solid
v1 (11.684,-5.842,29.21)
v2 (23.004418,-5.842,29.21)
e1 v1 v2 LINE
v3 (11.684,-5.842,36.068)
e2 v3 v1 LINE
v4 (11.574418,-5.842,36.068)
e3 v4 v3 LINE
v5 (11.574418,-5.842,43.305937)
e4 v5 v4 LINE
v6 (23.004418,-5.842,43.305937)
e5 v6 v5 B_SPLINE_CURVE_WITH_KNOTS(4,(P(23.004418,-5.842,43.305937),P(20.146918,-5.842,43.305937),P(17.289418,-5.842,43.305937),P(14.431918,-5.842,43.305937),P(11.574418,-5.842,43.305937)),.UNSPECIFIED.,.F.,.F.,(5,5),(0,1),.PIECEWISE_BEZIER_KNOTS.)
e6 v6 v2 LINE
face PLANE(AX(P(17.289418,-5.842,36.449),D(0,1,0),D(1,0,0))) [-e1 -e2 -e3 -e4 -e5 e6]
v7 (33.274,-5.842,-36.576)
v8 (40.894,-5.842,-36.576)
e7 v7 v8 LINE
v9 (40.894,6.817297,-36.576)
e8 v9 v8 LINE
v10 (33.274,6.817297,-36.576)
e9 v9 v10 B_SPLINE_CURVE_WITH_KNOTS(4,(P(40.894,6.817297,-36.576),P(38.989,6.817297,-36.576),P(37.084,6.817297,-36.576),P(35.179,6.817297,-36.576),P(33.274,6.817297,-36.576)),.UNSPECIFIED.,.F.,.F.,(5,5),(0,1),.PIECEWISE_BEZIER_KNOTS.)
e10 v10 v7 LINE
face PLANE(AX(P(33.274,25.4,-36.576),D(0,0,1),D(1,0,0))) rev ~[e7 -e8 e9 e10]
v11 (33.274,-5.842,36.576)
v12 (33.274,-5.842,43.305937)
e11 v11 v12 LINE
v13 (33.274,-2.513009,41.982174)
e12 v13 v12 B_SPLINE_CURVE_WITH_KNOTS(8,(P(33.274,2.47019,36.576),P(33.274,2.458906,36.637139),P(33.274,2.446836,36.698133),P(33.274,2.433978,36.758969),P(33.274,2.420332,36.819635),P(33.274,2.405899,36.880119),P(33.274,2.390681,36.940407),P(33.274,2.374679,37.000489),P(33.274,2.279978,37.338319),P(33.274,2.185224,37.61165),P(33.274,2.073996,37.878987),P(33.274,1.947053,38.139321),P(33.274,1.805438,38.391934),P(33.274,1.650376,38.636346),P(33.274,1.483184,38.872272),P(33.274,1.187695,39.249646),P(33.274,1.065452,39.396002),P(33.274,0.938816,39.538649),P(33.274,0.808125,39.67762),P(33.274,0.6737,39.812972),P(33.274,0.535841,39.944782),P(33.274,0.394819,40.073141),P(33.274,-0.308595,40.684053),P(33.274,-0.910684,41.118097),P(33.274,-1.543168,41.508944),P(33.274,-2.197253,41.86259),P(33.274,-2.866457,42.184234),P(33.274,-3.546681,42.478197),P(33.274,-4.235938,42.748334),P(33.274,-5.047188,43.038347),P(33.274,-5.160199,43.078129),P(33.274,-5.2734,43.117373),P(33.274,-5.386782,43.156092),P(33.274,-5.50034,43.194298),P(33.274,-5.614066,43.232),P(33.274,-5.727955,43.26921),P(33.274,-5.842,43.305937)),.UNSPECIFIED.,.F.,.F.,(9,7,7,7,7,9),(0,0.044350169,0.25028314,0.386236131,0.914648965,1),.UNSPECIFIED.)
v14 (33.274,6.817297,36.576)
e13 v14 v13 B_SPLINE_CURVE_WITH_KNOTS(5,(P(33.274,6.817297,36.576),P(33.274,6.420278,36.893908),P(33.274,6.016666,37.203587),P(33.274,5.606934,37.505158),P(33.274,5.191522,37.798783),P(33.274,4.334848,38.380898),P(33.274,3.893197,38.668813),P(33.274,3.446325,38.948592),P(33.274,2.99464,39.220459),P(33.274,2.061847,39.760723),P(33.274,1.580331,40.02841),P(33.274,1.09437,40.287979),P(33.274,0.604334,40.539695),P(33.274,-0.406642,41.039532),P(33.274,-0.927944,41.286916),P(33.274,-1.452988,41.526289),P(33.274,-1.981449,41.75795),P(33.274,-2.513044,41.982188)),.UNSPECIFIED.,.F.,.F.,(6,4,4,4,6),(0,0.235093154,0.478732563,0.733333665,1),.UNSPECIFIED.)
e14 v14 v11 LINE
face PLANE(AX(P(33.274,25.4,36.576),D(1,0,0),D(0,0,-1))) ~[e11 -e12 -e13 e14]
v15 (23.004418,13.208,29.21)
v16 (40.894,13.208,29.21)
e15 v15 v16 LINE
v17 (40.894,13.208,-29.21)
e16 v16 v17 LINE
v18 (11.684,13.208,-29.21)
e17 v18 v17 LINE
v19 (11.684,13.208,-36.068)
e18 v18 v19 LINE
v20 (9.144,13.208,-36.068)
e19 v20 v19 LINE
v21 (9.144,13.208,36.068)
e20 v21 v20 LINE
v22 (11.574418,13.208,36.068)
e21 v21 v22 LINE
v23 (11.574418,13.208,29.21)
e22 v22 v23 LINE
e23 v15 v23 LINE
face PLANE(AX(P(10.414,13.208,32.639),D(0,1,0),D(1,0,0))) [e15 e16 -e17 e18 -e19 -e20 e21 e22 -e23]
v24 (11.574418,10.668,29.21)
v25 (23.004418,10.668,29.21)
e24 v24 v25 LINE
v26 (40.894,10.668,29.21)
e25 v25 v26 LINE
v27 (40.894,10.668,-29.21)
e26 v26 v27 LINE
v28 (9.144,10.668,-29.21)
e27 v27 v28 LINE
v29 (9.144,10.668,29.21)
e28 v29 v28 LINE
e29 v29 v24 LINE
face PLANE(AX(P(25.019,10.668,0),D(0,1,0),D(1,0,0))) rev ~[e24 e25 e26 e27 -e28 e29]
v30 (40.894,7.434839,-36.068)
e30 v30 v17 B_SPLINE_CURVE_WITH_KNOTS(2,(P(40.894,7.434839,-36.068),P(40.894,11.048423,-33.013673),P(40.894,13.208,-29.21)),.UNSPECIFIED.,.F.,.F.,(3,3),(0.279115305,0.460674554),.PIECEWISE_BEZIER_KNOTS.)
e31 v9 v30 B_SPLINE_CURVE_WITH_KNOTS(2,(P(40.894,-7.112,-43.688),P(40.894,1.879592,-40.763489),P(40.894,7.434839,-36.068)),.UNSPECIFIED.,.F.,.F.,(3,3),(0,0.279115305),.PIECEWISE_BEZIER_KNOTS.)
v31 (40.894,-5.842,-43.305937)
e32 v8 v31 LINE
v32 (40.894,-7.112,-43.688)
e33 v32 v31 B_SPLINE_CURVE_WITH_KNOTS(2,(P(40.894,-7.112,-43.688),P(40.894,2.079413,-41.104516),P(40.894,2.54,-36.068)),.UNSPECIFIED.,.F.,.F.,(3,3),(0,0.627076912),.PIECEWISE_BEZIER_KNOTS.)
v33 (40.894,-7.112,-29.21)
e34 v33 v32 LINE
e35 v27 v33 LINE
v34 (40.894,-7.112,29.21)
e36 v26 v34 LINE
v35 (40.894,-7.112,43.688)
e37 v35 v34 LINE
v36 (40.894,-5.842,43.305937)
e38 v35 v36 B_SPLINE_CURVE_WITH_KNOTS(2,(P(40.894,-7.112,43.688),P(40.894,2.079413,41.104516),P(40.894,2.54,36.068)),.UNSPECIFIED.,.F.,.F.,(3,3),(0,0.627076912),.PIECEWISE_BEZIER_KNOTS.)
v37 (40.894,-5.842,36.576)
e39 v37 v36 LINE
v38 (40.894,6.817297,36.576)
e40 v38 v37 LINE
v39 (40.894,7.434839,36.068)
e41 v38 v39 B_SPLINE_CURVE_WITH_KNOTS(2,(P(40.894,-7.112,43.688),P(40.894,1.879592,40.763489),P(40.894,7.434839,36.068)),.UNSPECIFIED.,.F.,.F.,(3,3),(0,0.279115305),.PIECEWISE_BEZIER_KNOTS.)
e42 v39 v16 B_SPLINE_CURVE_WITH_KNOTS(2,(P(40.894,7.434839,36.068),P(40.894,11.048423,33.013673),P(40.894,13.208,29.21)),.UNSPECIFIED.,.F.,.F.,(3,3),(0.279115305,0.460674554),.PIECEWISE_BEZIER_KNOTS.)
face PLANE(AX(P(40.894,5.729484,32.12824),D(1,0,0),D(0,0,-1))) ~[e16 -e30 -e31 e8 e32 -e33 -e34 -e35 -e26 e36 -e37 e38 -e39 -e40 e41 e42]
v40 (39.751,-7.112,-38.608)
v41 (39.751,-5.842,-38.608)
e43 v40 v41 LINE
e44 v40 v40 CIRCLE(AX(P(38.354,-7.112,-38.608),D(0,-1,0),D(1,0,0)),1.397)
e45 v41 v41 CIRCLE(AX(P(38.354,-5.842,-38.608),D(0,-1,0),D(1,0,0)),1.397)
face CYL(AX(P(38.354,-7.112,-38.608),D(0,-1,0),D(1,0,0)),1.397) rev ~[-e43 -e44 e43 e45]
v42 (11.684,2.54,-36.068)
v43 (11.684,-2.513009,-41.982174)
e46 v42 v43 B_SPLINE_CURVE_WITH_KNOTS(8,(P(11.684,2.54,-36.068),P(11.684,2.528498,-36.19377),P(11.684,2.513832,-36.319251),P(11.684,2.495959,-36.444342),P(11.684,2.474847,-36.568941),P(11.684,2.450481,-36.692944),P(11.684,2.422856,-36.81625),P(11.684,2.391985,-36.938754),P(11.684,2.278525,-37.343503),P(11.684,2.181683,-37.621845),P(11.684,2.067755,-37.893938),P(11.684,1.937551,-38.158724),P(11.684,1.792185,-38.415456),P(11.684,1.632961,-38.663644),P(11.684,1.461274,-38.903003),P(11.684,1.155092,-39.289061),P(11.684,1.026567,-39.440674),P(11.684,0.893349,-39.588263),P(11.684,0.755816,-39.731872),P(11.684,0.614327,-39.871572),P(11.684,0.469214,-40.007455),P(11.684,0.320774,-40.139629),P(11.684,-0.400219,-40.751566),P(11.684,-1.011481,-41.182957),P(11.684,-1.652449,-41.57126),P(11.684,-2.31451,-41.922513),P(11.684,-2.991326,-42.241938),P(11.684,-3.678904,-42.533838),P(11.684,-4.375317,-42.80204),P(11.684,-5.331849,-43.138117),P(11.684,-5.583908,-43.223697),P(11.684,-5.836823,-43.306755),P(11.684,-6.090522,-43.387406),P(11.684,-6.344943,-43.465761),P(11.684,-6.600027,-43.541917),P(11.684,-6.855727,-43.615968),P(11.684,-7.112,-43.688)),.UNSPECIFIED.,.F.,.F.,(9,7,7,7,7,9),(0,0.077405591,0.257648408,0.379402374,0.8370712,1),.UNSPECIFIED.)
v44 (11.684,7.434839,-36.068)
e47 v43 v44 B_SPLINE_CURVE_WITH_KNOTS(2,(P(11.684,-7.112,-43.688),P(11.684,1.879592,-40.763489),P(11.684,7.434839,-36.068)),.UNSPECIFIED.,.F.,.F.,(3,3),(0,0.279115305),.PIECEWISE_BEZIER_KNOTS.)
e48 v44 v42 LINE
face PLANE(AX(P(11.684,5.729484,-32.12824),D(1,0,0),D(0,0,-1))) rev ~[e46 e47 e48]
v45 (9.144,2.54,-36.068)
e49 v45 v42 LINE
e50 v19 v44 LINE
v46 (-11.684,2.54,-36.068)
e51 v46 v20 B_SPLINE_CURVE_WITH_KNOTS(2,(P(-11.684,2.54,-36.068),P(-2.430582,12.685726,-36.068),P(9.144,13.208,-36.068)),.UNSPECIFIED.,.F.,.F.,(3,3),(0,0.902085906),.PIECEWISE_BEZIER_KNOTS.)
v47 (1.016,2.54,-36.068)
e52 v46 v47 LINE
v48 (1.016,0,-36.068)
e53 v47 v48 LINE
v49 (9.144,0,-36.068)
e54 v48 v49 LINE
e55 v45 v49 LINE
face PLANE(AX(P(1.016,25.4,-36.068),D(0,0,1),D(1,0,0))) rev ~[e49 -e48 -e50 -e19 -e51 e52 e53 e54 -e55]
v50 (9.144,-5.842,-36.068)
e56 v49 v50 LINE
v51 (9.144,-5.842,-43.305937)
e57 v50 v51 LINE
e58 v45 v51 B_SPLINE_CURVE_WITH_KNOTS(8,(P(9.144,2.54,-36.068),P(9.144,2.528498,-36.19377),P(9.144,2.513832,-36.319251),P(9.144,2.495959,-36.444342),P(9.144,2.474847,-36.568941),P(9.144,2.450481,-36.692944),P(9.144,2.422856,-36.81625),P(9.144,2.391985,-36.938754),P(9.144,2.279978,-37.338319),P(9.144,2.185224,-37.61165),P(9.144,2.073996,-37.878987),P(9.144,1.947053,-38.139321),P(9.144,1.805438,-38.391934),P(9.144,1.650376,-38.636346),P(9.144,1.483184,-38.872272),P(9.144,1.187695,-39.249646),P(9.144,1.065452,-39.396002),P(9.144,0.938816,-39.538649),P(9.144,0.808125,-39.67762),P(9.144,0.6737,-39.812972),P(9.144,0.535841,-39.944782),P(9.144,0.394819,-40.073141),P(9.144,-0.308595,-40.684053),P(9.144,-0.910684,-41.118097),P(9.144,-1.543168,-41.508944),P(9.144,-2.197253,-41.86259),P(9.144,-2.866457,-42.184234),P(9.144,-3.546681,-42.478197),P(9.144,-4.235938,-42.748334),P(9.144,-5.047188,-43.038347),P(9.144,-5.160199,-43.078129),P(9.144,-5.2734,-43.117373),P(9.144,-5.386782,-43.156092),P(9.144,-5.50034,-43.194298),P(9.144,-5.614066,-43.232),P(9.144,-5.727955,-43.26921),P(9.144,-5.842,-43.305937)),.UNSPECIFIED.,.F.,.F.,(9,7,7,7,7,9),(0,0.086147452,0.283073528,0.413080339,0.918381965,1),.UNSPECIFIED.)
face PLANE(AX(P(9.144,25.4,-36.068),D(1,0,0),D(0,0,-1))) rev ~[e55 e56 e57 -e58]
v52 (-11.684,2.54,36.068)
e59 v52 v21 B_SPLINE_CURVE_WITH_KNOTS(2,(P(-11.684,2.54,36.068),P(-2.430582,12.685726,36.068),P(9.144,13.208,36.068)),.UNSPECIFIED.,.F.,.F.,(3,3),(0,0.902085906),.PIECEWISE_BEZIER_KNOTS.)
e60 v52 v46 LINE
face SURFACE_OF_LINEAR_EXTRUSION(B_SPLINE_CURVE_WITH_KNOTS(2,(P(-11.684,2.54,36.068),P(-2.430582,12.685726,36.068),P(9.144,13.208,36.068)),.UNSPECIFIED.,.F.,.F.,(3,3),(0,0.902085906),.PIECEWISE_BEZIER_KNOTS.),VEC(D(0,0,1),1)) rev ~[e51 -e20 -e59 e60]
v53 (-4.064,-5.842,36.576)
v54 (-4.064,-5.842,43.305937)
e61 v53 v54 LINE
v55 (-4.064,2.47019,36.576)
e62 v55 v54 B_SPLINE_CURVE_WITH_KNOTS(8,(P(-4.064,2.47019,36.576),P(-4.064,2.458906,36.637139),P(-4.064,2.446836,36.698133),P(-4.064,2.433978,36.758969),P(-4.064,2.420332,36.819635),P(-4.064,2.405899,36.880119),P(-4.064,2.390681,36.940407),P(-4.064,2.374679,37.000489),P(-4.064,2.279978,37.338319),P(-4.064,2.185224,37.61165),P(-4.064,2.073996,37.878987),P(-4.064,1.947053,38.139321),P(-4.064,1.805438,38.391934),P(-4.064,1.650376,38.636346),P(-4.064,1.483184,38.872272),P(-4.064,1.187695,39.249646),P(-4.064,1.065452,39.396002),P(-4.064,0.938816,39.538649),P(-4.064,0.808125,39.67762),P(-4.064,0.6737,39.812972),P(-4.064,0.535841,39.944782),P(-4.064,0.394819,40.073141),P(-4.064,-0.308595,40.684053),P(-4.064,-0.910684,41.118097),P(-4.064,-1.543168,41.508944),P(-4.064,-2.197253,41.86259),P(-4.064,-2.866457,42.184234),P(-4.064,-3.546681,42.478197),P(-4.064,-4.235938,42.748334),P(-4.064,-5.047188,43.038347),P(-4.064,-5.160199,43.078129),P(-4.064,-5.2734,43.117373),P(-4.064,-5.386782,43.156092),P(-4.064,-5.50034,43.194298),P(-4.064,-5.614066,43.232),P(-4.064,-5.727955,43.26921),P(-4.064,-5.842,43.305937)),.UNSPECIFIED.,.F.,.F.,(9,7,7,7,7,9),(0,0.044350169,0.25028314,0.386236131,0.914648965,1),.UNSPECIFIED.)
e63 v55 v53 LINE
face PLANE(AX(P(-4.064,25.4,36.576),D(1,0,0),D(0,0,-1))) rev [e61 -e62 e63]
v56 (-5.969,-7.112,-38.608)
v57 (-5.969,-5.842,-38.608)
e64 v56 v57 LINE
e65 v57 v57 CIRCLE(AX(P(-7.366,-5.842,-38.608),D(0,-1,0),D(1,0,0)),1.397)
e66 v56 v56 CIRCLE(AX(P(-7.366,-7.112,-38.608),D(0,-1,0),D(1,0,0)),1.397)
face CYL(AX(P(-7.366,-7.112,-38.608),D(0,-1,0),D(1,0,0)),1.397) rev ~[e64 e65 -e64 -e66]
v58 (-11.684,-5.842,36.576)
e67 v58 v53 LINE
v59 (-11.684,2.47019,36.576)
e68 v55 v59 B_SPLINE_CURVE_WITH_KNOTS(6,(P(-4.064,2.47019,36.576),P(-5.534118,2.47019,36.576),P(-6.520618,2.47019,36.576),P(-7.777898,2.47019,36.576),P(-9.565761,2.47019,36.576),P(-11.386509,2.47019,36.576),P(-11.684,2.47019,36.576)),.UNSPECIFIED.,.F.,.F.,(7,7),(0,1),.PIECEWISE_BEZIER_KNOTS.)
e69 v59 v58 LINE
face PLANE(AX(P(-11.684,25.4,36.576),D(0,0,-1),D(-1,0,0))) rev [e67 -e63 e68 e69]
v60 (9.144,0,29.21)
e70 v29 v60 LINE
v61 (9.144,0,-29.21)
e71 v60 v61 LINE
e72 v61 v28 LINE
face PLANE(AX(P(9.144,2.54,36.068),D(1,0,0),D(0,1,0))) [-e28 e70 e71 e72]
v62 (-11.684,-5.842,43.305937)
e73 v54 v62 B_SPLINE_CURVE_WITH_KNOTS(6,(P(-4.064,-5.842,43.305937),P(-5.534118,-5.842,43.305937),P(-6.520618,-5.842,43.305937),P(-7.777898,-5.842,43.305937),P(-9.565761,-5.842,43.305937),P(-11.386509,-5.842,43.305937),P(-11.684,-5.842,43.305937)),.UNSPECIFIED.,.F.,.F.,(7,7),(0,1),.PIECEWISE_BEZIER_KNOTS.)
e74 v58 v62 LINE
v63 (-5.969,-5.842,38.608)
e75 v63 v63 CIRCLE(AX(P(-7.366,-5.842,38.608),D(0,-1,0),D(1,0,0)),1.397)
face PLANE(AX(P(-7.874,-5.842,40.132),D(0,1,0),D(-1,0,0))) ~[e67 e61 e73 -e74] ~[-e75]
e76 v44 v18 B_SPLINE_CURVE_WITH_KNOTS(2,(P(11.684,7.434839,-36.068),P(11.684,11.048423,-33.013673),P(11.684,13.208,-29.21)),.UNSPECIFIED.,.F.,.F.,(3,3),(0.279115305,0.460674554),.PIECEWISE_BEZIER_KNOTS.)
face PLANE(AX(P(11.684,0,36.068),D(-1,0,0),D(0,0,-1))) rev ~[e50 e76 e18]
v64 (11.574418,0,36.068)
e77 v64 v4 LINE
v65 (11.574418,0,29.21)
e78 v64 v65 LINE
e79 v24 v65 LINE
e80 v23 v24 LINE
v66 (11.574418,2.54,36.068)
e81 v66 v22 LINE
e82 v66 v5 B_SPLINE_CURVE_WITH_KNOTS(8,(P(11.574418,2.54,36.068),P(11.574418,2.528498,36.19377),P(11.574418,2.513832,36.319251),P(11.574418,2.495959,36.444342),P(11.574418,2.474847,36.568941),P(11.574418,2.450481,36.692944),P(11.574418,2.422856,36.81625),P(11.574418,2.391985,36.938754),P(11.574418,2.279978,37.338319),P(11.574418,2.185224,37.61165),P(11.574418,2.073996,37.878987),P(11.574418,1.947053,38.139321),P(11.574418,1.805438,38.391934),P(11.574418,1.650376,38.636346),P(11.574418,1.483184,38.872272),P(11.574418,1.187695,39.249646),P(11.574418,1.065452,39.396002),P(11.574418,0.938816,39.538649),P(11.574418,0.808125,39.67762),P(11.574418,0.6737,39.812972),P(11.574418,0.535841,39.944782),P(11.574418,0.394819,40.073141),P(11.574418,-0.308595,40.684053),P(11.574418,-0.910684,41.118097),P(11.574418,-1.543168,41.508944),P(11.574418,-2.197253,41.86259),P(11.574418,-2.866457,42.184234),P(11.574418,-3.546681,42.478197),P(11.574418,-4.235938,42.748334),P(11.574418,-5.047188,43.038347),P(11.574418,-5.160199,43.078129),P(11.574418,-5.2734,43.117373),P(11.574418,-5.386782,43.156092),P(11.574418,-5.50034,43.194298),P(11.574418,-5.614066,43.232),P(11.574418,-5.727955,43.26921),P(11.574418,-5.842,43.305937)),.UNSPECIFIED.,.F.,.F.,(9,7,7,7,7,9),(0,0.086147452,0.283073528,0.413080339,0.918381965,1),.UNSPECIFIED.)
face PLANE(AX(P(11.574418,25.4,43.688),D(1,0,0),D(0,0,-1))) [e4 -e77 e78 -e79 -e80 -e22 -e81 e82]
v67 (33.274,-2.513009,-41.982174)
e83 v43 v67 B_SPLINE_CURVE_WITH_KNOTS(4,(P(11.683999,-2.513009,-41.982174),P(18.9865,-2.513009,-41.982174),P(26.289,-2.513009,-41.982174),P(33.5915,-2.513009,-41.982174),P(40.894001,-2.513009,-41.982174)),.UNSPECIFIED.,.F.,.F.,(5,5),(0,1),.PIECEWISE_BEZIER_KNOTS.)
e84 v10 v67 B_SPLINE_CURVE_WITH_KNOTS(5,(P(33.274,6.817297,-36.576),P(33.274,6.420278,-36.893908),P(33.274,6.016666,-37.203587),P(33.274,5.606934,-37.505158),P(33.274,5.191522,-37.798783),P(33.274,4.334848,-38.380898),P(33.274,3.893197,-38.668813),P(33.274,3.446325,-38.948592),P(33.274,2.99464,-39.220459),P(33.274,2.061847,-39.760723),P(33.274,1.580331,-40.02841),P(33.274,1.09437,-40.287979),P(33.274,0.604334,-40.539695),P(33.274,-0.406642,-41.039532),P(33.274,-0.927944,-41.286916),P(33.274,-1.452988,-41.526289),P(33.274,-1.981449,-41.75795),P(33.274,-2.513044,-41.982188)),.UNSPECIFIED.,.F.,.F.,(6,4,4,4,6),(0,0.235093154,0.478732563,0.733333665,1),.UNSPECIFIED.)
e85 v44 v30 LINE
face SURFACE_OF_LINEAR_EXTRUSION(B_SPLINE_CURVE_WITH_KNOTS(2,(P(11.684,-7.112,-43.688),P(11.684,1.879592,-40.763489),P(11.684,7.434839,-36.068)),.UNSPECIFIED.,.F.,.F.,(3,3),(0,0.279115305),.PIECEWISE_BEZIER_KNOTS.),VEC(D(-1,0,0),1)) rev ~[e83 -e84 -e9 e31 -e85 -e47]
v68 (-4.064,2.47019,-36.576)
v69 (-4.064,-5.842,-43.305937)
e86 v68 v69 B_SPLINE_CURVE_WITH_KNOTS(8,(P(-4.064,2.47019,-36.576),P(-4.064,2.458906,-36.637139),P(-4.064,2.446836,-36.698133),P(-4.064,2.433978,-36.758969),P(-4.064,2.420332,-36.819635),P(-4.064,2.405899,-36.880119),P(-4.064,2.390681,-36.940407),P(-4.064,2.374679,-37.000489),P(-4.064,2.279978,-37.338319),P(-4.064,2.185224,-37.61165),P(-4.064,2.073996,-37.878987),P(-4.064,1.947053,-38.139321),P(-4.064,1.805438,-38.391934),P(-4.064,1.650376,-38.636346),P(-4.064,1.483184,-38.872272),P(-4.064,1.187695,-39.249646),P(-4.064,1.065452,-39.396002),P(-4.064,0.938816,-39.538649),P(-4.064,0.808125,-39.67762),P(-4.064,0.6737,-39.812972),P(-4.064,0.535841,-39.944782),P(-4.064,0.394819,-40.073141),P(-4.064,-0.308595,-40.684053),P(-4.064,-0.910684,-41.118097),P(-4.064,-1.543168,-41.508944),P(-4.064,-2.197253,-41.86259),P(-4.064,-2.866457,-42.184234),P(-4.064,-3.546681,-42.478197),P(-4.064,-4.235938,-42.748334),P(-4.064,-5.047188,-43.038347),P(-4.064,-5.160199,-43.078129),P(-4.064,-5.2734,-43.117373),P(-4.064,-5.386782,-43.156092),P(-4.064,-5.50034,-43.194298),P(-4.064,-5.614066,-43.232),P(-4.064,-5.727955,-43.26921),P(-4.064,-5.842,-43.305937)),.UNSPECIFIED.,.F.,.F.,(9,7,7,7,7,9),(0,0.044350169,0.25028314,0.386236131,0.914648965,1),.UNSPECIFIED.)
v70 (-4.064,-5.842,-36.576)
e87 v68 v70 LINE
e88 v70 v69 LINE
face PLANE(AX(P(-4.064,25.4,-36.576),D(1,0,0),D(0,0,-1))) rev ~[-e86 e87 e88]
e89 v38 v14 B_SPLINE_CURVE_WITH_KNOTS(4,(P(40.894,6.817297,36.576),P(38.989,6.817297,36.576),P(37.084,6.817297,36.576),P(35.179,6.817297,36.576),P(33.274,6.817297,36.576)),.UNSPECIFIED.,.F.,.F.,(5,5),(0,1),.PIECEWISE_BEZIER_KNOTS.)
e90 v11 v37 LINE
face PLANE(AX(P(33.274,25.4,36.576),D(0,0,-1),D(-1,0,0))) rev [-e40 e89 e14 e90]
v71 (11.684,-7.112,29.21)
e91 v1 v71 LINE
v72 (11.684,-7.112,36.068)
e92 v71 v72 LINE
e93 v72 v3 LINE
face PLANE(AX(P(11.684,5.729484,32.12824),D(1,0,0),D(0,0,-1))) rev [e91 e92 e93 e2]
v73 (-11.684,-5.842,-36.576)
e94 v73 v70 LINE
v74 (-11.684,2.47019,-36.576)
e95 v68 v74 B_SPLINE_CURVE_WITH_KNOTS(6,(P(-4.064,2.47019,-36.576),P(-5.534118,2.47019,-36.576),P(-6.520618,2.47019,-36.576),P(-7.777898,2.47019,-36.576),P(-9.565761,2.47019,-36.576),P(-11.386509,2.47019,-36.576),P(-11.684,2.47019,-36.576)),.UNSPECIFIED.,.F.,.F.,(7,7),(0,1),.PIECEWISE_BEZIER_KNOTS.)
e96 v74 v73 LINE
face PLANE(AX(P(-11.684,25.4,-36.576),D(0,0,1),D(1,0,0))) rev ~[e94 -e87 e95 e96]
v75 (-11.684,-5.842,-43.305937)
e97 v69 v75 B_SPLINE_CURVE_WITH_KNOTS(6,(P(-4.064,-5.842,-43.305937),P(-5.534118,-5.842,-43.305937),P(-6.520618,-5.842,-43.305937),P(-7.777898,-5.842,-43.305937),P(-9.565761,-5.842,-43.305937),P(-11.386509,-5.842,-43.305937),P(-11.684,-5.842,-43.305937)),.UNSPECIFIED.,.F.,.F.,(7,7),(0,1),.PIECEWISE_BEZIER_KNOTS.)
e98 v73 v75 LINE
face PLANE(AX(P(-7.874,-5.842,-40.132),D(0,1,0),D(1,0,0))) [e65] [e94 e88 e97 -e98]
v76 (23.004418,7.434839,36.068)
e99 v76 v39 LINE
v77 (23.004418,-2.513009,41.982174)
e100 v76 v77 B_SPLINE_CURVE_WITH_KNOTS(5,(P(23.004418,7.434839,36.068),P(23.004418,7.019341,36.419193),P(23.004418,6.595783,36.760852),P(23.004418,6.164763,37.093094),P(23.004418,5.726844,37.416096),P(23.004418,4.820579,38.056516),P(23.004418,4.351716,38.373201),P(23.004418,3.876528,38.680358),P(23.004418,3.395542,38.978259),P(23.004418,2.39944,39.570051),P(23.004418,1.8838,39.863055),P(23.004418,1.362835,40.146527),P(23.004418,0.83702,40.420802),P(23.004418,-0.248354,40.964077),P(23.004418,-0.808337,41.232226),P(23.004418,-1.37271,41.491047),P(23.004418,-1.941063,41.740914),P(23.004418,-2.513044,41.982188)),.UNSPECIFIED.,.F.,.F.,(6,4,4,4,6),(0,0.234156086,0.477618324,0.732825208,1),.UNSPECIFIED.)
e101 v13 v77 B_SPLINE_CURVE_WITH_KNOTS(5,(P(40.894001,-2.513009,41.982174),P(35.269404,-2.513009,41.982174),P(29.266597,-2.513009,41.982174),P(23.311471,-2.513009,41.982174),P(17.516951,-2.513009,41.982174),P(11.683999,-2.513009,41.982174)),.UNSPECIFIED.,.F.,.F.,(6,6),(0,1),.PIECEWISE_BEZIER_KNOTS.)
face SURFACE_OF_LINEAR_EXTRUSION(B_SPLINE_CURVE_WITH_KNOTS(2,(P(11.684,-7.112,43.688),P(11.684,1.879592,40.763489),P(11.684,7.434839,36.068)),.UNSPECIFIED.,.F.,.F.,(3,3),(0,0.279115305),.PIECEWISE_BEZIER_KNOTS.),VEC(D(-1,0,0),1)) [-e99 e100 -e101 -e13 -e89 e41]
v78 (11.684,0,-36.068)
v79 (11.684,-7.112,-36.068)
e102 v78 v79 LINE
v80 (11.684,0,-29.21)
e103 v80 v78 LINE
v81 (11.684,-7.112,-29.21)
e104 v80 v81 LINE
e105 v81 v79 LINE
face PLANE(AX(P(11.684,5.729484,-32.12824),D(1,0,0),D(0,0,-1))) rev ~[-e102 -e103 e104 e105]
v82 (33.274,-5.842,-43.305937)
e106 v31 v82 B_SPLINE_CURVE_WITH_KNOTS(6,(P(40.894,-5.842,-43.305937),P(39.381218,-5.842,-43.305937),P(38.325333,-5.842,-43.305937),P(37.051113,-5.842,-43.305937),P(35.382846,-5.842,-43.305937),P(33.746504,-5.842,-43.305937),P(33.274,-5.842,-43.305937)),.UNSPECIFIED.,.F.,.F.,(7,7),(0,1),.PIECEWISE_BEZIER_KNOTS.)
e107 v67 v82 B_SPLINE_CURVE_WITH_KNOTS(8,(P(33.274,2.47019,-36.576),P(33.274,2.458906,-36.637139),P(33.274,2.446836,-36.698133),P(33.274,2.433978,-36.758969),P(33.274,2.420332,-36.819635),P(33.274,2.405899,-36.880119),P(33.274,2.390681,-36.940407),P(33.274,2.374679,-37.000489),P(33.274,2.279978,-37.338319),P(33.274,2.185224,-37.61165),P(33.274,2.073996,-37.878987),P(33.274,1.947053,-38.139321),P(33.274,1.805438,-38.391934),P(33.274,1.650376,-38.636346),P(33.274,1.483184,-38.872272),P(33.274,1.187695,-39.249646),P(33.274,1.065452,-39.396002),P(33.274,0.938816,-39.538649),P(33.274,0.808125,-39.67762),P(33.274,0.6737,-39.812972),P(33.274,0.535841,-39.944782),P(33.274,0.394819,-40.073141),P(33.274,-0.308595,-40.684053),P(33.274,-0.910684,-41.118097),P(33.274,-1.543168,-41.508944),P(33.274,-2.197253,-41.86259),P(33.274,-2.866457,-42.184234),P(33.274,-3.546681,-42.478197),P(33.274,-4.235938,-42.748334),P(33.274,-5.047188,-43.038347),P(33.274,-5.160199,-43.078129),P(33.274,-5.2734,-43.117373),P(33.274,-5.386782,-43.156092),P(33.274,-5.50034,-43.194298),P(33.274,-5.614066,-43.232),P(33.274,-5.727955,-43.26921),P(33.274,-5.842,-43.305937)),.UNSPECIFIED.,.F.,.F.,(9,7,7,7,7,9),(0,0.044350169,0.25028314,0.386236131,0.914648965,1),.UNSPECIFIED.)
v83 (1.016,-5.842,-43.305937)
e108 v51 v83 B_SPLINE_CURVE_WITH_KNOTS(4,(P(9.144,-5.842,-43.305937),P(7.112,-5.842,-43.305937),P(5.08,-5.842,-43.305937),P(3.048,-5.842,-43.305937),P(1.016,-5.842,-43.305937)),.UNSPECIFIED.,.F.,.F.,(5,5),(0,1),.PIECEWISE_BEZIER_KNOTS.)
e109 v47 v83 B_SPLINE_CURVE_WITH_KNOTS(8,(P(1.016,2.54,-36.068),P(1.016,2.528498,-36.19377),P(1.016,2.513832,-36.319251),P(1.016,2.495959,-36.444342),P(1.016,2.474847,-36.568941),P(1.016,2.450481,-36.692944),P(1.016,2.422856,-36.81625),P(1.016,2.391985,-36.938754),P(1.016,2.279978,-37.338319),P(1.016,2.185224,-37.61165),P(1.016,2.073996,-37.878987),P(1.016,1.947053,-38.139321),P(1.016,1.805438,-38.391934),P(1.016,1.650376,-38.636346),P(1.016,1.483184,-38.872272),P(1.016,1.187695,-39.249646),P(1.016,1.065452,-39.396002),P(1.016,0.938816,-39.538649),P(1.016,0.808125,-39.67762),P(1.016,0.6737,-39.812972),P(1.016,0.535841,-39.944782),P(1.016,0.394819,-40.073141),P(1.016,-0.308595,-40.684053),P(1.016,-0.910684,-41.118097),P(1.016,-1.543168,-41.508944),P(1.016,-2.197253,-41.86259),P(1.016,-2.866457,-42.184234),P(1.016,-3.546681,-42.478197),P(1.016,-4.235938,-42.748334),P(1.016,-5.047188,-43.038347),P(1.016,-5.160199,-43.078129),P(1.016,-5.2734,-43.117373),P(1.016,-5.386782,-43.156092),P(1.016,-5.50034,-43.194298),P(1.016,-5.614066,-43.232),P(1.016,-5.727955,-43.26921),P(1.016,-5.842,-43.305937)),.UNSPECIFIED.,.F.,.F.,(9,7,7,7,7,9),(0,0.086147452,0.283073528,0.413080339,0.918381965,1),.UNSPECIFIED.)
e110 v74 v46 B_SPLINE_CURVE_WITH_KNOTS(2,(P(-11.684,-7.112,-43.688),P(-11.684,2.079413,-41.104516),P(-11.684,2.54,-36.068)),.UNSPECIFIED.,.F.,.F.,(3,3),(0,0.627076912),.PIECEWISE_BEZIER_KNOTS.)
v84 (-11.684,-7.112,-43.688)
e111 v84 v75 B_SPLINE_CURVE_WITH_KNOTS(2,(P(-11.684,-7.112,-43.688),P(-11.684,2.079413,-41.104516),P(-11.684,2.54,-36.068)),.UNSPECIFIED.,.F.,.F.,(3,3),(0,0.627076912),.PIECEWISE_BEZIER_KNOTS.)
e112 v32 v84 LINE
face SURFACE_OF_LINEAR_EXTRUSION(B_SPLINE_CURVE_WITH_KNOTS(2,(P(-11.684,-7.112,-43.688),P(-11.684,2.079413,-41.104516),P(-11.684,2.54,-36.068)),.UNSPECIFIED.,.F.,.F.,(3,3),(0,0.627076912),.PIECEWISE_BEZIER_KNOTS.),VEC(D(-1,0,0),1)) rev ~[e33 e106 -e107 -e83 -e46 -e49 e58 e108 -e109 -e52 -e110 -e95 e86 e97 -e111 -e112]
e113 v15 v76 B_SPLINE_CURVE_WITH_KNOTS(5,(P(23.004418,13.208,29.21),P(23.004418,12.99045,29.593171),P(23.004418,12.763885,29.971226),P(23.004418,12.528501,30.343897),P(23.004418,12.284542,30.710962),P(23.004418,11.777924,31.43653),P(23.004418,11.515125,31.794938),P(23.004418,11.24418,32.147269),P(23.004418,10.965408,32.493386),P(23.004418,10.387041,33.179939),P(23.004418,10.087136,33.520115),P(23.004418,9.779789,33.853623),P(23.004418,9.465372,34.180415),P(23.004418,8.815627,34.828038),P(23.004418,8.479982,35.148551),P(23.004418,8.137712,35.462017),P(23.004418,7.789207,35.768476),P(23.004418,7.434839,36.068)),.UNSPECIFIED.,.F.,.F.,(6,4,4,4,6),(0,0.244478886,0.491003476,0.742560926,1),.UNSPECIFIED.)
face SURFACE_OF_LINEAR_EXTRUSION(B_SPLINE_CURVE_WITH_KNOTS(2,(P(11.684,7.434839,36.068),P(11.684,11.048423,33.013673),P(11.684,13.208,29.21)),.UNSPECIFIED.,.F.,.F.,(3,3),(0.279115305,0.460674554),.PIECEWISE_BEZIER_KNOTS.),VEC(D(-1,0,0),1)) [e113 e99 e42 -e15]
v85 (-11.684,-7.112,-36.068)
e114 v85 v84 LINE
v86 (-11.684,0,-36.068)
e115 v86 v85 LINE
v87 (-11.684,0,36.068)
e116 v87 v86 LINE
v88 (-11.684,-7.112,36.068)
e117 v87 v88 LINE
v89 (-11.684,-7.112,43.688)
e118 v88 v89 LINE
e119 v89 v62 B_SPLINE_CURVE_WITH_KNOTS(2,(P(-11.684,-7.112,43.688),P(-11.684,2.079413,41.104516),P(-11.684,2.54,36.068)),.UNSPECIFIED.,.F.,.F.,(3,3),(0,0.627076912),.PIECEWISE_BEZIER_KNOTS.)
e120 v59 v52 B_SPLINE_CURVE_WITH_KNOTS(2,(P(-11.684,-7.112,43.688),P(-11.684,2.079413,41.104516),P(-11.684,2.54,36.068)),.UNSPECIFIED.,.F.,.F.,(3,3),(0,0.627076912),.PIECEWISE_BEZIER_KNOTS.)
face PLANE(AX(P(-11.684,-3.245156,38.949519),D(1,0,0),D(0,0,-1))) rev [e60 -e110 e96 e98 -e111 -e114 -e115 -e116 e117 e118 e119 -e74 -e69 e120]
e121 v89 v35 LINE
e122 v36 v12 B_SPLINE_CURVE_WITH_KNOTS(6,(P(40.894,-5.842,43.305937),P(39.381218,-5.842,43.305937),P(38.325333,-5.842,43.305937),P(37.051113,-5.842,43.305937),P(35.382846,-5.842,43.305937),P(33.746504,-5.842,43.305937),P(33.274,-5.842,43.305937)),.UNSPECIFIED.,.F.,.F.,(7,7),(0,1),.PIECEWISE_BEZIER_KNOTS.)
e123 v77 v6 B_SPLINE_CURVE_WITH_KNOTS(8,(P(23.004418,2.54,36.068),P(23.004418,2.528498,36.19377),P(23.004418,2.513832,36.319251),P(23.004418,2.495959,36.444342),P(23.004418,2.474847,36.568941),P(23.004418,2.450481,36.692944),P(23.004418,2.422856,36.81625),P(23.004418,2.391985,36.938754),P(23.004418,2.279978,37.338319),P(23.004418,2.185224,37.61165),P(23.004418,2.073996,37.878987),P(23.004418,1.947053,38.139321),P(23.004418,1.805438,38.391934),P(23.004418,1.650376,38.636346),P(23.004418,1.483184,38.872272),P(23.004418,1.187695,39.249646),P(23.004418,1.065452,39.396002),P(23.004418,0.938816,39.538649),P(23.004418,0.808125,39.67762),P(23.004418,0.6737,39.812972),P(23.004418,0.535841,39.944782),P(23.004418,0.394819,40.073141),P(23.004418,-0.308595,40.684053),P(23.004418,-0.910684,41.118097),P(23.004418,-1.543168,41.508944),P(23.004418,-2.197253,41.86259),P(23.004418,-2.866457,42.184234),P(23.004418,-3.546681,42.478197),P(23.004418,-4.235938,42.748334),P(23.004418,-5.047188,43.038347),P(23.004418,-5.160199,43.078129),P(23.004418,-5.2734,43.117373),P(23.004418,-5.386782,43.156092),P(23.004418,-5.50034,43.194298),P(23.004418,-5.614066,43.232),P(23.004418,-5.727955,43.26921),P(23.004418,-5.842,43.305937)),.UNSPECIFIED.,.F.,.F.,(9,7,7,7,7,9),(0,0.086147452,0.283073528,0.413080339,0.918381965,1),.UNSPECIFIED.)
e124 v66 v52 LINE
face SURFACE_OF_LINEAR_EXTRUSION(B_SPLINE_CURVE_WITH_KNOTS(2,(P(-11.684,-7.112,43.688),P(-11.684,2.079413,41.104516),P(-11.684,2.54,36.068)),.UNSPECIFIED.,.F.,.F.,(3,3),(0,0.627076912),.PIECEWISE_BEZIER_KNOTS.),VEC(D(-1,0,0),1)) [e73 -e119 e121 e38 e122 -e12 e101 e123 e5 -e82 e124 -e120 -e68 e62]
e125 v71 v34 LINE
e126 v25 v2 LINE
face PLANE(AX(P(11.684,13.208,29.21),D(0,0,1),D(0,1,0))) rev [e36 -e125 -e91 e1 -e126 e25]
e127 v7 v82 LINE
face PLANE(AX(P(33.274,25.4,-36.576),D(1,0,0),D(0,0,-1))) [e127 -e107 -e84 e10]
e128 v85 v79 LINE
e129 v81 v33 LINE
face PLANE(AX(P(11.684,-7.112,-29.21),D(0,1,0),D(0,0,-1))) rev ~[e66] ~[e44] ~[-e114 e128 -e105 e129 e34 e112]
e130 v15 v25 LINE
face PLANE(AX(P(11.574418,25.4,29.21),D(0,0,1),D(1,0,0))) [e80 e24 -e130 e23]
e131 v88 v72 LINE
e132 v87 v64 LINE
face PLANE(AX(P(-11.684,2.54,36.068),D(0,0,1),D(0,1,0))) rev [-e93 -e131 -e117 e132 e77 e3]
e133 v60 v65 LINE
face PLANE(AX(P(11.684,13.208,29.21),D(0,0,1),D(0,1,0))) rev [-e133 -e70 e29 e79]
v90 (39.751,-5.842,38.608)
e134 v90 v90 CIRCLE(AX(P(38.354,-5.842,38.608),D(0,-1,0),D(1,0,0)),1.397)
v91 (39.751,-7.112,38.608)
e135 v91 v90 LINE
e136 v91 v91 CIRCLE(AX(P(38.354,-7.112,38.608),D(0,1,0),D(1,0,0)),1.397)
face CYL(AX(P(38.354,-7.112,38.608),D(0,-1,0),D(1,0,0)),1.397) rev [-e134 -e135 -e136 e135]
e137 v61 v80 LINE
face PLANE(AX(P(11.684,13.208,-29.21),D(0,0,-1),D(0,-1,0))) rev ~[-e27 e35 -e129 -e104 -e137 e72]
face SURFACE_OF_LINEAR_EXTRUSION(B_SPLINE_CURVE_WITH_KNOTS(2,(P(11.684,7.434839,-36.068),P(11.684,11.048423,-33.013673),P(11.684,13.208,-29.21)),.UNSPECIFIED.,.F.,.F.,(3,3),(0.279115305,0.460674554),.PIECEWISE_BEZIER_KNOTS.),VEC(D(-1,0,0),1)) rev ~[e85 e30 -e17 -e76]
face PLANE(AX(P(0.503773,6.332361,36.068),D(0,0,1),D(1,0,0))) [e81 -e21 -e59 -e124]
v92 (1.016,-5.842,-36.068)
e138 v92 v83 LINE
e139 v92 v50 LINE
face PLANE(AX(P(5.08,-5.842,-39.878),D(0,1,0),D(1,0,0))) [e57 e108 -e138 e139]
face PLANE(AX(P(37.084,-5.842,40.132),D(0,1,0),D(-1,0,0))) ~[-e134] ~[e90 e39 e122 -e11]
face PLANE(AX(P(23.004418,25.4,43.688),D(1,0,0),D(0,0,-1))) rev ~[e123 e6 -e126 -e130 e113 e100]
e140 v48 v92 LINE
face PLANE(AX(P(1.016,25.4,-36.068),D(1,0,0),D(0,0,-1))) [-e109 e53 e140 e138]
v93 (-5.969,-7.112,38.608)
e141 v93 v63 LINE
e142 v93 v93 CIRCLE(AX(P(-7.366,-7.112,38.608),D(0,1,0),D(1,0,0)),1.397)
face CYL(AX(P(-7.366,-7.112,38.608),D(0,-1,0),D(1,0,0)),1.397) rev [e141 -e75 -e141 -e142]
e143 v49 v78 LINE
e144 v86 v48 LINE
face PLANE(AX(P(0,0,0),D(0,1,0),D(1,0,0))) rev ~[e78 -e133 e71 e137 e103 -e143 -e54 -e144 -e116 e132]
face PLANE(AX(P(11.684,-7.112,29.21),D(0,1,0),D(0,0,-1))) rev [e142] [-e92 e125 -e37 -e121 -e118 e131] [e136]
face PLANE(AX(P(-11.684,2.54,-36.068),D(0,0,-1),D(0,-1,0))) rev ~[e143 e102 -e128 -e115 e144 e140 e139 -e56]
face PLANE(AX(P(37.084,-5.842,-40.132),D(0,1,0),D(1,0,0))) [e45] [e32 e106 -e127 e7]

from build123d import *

# Parameters (mm, degrees)
SKETCH1_W           = 23.368
SKETCH1_H           = 72.136
BOSS_EXTRUDE1_DEPTH = 2.54
SKETCH2_W           = 2.54
SKETCH2_H           = 58.42
CUT_EXTRUDE1_DEPTH  = 2.54
SKETCH3_W           = 2.54
SKETCH3_H           = 6.858
BOSS_EXTRUDE2_DEPTH = 8.128
SKETCH4_W           = 31.75
SKETCH4_H           = 58.42
BOSS_EXTRUDE3_DEPTH = 2.54
SKETCH5_W           = 2.54
SKETCH5_H           = 6.858
BOSS_EXTRUDE4_DEPTH = 2.54
BOSS_EXTRUDE5_START = -11.684
BOSS_EXTRUDE5_DEPTH = 52.578
BOSS_EXTRUDE6_DEPTH = 29.21
SKETCH10_W          = 7.62
SKETCH10_H          = 7.112
CUT_EXTRUDE2_DEPTH  = 31.242
SKETCH12_R          = 1.397
CUT_EXTRUDE3_DEPTH  = 21.3200001
BOSS_EXTRUDE7_DEPTH = 72.136
SKETCH14_W          = 8.128
SKETCH14_H          = 7.62
SKETCH14_W_2        = 11.43
SKETCH14_H_2        = 14.478
CUT_EXTRUDE4_DEPTH  = 31.242


with BuildPart() as part:
    # Sketch1 → Boss-Extrude1 (new body)
    with BuildSketch(Plane(origin=(0, 0, 0), x_dir=(1, 0, 0), z_dir=(0, 1, 0))):
        Rectangle(SKETCH1_W, SKETCH1_H)
    extrude(amount=BOSS_EXTRUDE1_DEPTH)

    # Sketch2 → Cut-Extrude1 (cut)
    with BuildSketch(Plane(origin=(0, 2.54, 0), x_dir=(1, 0, 0), z_dir=(0, 1, 0))):
        with Locations((10.414, 0)):
            Rectangle(SKETCH2_W, SKETCH2_H)
    extrude(amount=-CUT_EXTRUDE1_DEPTH, mode=Mode.SUBTRACT)

    # Sketch3 → Boss-Extrude2 (add)
    with BuildSketch(Plane(origin=(0, 2.54, 0), x_dir=(1, 0, 0), z_dir=(0, 1, 0))):
        with Locations((10.414, -32.639)):
            Rectangle(SKETCH3_W, SKETCH3_H)
        with Locations((10.414, 32.639)):
            Rectangle(SKETCH3_W, SKETCH3_H)
    extrude(amount=BOSS_EXTRUDE2_DEPTH)



with BuildPart() as body_2:
    # Sketch4 → Boss-Extrude3 (new body)
    with BuildSketch(Plane(origin=(0, 10.668, 0), x_dir=(1, 0, 0), z_dir=(0, 1, 0))):
        with Locations((25.019, 0)):
            Rectangle(SKETCH4_W, SKETCH4_H)
    extrude(amount=BOSS_EXTRUDE3_DEPTH)


with BuildPart() as part_1:
    add(part.part)

    add(body_2.part)  # Boss-Extrude4 merges body 2
    # Sketch5 → Boss-Extrude4 (add)
    with BuildSketch(Plane(origin=(0, 10.668, 0), x_dir=(1, 0, 0), z_dir=(0, 1, 0))):
        with Locations((10.414, -32.639)):
            Rectangle(SKETCH5_W, SKETCH5_H)
        with Locations((10.414, 32.639)):
            Rectangle(SKETCH5_W, SKETCH5_H)
    extrude(amount=BOSS_EXTRUDE4_DEPTH)

    # Sketch6 → Boss-Extrude5 (add)
    with BuildSketch(Plane(origin=(0, 0, 0), x_dir=(0, 0, -1), z_dir=(1, 0, 0)).offset(BOSS_EXTRUDE5_START)):
        with BuildLine():
            add(Edge.make_bspline(
                [(43.688, -7.112), (41.104515695, 2.079413445), (36.068, 2.54)],
                knots=[0, 0, 0, 0.627076912, 0.627076912, 0.627076912], degree=2))
            Line((36.068, 2.54), (36.068, -7.112))
            Line((36.068, -7.112), (43.688, -7.112))
        make_face()
    boss_extrude5 = extrude(amount=BOSS_EXTRUDE5_DEPTH)

    # Sketch7 → Boss-Extrude6 (add)
    with BuildSketch(Plane(origin=(11.684, 0, 0), x_dir=(0, 0, -1), z_dir=(1, 0, 0))):
        with BuildLine():
            add(Edge.make_bspline(
                [(36.068, 7.434839088), (33.013673055, 11.048422605), (29.21, 13.208)],
                knots=[0.279115305, 0.279115305, 0.279115305, 0.460674554, 0.460674554, 0.460674554], degree=2))
            Line((29.21, 13.208), (29.21, 10.668))
            Line((29.21, 10.668), (29.21, 0))
            Line((29.21, 0), (36.068, 0))
            Line((36.068, 0), (36.068, 2.54))
            Line((36.068, 2.54), (36.068, 7.434839088))
        make_face()
        with BuildLine():
            add(Edge.make_bspline(
                [(43.688, -7.112), (40.763488669, 1.879592133), (36.068, 7.434839088)],
                knots=[0, 0, 0, 0.279115305, 0.279115305, 0.279115305], degree=2))
            Line((36.068, 7.434839088), (36.068, 2.54))
            Line((36.068, 2.54), (36.068, 0))
            Line((36.068, 0), (29.21, 0))
            Line((29.21, 0), (29.21, -7.112))
            Line((29.21, -7.112), (43.688, -7.112))
        make_face()
    boss_extrude6 = extrude(amount=BOSS_EXTRUDE6_DEPTH)

    # Sketch10 → Cut-Extrude2 (cut)
    with BuildSketch(Plane(origin=(0, 25.4, 0), x_dir=(1, 0, 0), z_dir=(0, 1, 0))):
        with Locations((-7.874, 40.132)):
            Rectangle(SKETCH10_W, SKETCH10_H)
        with Locations((37.084, 40.132)):
            Rectangle(SKETCH10_W, SKETCH10_H)
    cut_extrude2 = extrude(amount=-CUT_EXTRUDE2_DEPTH, mode=Mode.SUBTRACT)

    # Sketch12 → Cut-Extrude3 (cut, through all)
    with BuildSketch(Plane.XZ.offset(7.112)):
        with Locations((-7.366, -38.608)):
            Circle(SKETCH12_R)
        with Locations((38.354, -38.608)):
            Circle(SKETCH12_R)
    cut_extrude3 = extrude(amount=-CUT_EXTRUDE3_DEPTH, mode=Mode.SUBTRACT)

    # Mirror1: Boss-Extrude5, Boss-Extrude6, Cut-Extrude2, Cut-Extrude3 across plane
    add(boss_extrude5.mirror(Plane.XY))
    add(boss_extrude6.mirror(Plane.XY))
    add(cut_extrude2.mirror(Plane.XY), mode=Mode.SUBTRACT)
    add(cut_extrude3.mirror(Plane.XY), mode=Mode.SUBTRACT)

    # Sketch13 → Boss-Extrude7 (add)
    with BuildSketch(Plane.XY.offset(36.068)):
        with BuildLine():
            Line((9.144, 2.54), (9.144, 13.208))
            add(Edge.make_bspline(
                [(-11.684, 2.54), (-2.430581771, 12.68572622), (9.144, 13.208)],
                knots=[0, 0, 0, 0.902085906, 0.902085906, 0.902085906], degree=2))
            Line((-11.684, 2.54), (9.144, 2.54))
        make_face()
    extrude(amount=-BOSS_EXTRUDE7_DEPTH)

    # Sketch14 → Cut-Extrude4 (cut)
    with BuildSketch(Plane(origin=(0, 25.4, 0), x_dir=(1, 0, 0), z_dir=(0, 1, 0))):
        with Locations((5.08, 39.878)):
            Rectangle(SKETCH14_W, SKETCH14_H)
        with Locations((17.289418024, -36.449)):
            Rectangle(SKETCH14_W_2, SKETCH14_H_2)
    extrude(amount=-CUT_EXTRUDE4_DEPTH, mode=Mode.SUBTRACT)


solid = part_1.part
